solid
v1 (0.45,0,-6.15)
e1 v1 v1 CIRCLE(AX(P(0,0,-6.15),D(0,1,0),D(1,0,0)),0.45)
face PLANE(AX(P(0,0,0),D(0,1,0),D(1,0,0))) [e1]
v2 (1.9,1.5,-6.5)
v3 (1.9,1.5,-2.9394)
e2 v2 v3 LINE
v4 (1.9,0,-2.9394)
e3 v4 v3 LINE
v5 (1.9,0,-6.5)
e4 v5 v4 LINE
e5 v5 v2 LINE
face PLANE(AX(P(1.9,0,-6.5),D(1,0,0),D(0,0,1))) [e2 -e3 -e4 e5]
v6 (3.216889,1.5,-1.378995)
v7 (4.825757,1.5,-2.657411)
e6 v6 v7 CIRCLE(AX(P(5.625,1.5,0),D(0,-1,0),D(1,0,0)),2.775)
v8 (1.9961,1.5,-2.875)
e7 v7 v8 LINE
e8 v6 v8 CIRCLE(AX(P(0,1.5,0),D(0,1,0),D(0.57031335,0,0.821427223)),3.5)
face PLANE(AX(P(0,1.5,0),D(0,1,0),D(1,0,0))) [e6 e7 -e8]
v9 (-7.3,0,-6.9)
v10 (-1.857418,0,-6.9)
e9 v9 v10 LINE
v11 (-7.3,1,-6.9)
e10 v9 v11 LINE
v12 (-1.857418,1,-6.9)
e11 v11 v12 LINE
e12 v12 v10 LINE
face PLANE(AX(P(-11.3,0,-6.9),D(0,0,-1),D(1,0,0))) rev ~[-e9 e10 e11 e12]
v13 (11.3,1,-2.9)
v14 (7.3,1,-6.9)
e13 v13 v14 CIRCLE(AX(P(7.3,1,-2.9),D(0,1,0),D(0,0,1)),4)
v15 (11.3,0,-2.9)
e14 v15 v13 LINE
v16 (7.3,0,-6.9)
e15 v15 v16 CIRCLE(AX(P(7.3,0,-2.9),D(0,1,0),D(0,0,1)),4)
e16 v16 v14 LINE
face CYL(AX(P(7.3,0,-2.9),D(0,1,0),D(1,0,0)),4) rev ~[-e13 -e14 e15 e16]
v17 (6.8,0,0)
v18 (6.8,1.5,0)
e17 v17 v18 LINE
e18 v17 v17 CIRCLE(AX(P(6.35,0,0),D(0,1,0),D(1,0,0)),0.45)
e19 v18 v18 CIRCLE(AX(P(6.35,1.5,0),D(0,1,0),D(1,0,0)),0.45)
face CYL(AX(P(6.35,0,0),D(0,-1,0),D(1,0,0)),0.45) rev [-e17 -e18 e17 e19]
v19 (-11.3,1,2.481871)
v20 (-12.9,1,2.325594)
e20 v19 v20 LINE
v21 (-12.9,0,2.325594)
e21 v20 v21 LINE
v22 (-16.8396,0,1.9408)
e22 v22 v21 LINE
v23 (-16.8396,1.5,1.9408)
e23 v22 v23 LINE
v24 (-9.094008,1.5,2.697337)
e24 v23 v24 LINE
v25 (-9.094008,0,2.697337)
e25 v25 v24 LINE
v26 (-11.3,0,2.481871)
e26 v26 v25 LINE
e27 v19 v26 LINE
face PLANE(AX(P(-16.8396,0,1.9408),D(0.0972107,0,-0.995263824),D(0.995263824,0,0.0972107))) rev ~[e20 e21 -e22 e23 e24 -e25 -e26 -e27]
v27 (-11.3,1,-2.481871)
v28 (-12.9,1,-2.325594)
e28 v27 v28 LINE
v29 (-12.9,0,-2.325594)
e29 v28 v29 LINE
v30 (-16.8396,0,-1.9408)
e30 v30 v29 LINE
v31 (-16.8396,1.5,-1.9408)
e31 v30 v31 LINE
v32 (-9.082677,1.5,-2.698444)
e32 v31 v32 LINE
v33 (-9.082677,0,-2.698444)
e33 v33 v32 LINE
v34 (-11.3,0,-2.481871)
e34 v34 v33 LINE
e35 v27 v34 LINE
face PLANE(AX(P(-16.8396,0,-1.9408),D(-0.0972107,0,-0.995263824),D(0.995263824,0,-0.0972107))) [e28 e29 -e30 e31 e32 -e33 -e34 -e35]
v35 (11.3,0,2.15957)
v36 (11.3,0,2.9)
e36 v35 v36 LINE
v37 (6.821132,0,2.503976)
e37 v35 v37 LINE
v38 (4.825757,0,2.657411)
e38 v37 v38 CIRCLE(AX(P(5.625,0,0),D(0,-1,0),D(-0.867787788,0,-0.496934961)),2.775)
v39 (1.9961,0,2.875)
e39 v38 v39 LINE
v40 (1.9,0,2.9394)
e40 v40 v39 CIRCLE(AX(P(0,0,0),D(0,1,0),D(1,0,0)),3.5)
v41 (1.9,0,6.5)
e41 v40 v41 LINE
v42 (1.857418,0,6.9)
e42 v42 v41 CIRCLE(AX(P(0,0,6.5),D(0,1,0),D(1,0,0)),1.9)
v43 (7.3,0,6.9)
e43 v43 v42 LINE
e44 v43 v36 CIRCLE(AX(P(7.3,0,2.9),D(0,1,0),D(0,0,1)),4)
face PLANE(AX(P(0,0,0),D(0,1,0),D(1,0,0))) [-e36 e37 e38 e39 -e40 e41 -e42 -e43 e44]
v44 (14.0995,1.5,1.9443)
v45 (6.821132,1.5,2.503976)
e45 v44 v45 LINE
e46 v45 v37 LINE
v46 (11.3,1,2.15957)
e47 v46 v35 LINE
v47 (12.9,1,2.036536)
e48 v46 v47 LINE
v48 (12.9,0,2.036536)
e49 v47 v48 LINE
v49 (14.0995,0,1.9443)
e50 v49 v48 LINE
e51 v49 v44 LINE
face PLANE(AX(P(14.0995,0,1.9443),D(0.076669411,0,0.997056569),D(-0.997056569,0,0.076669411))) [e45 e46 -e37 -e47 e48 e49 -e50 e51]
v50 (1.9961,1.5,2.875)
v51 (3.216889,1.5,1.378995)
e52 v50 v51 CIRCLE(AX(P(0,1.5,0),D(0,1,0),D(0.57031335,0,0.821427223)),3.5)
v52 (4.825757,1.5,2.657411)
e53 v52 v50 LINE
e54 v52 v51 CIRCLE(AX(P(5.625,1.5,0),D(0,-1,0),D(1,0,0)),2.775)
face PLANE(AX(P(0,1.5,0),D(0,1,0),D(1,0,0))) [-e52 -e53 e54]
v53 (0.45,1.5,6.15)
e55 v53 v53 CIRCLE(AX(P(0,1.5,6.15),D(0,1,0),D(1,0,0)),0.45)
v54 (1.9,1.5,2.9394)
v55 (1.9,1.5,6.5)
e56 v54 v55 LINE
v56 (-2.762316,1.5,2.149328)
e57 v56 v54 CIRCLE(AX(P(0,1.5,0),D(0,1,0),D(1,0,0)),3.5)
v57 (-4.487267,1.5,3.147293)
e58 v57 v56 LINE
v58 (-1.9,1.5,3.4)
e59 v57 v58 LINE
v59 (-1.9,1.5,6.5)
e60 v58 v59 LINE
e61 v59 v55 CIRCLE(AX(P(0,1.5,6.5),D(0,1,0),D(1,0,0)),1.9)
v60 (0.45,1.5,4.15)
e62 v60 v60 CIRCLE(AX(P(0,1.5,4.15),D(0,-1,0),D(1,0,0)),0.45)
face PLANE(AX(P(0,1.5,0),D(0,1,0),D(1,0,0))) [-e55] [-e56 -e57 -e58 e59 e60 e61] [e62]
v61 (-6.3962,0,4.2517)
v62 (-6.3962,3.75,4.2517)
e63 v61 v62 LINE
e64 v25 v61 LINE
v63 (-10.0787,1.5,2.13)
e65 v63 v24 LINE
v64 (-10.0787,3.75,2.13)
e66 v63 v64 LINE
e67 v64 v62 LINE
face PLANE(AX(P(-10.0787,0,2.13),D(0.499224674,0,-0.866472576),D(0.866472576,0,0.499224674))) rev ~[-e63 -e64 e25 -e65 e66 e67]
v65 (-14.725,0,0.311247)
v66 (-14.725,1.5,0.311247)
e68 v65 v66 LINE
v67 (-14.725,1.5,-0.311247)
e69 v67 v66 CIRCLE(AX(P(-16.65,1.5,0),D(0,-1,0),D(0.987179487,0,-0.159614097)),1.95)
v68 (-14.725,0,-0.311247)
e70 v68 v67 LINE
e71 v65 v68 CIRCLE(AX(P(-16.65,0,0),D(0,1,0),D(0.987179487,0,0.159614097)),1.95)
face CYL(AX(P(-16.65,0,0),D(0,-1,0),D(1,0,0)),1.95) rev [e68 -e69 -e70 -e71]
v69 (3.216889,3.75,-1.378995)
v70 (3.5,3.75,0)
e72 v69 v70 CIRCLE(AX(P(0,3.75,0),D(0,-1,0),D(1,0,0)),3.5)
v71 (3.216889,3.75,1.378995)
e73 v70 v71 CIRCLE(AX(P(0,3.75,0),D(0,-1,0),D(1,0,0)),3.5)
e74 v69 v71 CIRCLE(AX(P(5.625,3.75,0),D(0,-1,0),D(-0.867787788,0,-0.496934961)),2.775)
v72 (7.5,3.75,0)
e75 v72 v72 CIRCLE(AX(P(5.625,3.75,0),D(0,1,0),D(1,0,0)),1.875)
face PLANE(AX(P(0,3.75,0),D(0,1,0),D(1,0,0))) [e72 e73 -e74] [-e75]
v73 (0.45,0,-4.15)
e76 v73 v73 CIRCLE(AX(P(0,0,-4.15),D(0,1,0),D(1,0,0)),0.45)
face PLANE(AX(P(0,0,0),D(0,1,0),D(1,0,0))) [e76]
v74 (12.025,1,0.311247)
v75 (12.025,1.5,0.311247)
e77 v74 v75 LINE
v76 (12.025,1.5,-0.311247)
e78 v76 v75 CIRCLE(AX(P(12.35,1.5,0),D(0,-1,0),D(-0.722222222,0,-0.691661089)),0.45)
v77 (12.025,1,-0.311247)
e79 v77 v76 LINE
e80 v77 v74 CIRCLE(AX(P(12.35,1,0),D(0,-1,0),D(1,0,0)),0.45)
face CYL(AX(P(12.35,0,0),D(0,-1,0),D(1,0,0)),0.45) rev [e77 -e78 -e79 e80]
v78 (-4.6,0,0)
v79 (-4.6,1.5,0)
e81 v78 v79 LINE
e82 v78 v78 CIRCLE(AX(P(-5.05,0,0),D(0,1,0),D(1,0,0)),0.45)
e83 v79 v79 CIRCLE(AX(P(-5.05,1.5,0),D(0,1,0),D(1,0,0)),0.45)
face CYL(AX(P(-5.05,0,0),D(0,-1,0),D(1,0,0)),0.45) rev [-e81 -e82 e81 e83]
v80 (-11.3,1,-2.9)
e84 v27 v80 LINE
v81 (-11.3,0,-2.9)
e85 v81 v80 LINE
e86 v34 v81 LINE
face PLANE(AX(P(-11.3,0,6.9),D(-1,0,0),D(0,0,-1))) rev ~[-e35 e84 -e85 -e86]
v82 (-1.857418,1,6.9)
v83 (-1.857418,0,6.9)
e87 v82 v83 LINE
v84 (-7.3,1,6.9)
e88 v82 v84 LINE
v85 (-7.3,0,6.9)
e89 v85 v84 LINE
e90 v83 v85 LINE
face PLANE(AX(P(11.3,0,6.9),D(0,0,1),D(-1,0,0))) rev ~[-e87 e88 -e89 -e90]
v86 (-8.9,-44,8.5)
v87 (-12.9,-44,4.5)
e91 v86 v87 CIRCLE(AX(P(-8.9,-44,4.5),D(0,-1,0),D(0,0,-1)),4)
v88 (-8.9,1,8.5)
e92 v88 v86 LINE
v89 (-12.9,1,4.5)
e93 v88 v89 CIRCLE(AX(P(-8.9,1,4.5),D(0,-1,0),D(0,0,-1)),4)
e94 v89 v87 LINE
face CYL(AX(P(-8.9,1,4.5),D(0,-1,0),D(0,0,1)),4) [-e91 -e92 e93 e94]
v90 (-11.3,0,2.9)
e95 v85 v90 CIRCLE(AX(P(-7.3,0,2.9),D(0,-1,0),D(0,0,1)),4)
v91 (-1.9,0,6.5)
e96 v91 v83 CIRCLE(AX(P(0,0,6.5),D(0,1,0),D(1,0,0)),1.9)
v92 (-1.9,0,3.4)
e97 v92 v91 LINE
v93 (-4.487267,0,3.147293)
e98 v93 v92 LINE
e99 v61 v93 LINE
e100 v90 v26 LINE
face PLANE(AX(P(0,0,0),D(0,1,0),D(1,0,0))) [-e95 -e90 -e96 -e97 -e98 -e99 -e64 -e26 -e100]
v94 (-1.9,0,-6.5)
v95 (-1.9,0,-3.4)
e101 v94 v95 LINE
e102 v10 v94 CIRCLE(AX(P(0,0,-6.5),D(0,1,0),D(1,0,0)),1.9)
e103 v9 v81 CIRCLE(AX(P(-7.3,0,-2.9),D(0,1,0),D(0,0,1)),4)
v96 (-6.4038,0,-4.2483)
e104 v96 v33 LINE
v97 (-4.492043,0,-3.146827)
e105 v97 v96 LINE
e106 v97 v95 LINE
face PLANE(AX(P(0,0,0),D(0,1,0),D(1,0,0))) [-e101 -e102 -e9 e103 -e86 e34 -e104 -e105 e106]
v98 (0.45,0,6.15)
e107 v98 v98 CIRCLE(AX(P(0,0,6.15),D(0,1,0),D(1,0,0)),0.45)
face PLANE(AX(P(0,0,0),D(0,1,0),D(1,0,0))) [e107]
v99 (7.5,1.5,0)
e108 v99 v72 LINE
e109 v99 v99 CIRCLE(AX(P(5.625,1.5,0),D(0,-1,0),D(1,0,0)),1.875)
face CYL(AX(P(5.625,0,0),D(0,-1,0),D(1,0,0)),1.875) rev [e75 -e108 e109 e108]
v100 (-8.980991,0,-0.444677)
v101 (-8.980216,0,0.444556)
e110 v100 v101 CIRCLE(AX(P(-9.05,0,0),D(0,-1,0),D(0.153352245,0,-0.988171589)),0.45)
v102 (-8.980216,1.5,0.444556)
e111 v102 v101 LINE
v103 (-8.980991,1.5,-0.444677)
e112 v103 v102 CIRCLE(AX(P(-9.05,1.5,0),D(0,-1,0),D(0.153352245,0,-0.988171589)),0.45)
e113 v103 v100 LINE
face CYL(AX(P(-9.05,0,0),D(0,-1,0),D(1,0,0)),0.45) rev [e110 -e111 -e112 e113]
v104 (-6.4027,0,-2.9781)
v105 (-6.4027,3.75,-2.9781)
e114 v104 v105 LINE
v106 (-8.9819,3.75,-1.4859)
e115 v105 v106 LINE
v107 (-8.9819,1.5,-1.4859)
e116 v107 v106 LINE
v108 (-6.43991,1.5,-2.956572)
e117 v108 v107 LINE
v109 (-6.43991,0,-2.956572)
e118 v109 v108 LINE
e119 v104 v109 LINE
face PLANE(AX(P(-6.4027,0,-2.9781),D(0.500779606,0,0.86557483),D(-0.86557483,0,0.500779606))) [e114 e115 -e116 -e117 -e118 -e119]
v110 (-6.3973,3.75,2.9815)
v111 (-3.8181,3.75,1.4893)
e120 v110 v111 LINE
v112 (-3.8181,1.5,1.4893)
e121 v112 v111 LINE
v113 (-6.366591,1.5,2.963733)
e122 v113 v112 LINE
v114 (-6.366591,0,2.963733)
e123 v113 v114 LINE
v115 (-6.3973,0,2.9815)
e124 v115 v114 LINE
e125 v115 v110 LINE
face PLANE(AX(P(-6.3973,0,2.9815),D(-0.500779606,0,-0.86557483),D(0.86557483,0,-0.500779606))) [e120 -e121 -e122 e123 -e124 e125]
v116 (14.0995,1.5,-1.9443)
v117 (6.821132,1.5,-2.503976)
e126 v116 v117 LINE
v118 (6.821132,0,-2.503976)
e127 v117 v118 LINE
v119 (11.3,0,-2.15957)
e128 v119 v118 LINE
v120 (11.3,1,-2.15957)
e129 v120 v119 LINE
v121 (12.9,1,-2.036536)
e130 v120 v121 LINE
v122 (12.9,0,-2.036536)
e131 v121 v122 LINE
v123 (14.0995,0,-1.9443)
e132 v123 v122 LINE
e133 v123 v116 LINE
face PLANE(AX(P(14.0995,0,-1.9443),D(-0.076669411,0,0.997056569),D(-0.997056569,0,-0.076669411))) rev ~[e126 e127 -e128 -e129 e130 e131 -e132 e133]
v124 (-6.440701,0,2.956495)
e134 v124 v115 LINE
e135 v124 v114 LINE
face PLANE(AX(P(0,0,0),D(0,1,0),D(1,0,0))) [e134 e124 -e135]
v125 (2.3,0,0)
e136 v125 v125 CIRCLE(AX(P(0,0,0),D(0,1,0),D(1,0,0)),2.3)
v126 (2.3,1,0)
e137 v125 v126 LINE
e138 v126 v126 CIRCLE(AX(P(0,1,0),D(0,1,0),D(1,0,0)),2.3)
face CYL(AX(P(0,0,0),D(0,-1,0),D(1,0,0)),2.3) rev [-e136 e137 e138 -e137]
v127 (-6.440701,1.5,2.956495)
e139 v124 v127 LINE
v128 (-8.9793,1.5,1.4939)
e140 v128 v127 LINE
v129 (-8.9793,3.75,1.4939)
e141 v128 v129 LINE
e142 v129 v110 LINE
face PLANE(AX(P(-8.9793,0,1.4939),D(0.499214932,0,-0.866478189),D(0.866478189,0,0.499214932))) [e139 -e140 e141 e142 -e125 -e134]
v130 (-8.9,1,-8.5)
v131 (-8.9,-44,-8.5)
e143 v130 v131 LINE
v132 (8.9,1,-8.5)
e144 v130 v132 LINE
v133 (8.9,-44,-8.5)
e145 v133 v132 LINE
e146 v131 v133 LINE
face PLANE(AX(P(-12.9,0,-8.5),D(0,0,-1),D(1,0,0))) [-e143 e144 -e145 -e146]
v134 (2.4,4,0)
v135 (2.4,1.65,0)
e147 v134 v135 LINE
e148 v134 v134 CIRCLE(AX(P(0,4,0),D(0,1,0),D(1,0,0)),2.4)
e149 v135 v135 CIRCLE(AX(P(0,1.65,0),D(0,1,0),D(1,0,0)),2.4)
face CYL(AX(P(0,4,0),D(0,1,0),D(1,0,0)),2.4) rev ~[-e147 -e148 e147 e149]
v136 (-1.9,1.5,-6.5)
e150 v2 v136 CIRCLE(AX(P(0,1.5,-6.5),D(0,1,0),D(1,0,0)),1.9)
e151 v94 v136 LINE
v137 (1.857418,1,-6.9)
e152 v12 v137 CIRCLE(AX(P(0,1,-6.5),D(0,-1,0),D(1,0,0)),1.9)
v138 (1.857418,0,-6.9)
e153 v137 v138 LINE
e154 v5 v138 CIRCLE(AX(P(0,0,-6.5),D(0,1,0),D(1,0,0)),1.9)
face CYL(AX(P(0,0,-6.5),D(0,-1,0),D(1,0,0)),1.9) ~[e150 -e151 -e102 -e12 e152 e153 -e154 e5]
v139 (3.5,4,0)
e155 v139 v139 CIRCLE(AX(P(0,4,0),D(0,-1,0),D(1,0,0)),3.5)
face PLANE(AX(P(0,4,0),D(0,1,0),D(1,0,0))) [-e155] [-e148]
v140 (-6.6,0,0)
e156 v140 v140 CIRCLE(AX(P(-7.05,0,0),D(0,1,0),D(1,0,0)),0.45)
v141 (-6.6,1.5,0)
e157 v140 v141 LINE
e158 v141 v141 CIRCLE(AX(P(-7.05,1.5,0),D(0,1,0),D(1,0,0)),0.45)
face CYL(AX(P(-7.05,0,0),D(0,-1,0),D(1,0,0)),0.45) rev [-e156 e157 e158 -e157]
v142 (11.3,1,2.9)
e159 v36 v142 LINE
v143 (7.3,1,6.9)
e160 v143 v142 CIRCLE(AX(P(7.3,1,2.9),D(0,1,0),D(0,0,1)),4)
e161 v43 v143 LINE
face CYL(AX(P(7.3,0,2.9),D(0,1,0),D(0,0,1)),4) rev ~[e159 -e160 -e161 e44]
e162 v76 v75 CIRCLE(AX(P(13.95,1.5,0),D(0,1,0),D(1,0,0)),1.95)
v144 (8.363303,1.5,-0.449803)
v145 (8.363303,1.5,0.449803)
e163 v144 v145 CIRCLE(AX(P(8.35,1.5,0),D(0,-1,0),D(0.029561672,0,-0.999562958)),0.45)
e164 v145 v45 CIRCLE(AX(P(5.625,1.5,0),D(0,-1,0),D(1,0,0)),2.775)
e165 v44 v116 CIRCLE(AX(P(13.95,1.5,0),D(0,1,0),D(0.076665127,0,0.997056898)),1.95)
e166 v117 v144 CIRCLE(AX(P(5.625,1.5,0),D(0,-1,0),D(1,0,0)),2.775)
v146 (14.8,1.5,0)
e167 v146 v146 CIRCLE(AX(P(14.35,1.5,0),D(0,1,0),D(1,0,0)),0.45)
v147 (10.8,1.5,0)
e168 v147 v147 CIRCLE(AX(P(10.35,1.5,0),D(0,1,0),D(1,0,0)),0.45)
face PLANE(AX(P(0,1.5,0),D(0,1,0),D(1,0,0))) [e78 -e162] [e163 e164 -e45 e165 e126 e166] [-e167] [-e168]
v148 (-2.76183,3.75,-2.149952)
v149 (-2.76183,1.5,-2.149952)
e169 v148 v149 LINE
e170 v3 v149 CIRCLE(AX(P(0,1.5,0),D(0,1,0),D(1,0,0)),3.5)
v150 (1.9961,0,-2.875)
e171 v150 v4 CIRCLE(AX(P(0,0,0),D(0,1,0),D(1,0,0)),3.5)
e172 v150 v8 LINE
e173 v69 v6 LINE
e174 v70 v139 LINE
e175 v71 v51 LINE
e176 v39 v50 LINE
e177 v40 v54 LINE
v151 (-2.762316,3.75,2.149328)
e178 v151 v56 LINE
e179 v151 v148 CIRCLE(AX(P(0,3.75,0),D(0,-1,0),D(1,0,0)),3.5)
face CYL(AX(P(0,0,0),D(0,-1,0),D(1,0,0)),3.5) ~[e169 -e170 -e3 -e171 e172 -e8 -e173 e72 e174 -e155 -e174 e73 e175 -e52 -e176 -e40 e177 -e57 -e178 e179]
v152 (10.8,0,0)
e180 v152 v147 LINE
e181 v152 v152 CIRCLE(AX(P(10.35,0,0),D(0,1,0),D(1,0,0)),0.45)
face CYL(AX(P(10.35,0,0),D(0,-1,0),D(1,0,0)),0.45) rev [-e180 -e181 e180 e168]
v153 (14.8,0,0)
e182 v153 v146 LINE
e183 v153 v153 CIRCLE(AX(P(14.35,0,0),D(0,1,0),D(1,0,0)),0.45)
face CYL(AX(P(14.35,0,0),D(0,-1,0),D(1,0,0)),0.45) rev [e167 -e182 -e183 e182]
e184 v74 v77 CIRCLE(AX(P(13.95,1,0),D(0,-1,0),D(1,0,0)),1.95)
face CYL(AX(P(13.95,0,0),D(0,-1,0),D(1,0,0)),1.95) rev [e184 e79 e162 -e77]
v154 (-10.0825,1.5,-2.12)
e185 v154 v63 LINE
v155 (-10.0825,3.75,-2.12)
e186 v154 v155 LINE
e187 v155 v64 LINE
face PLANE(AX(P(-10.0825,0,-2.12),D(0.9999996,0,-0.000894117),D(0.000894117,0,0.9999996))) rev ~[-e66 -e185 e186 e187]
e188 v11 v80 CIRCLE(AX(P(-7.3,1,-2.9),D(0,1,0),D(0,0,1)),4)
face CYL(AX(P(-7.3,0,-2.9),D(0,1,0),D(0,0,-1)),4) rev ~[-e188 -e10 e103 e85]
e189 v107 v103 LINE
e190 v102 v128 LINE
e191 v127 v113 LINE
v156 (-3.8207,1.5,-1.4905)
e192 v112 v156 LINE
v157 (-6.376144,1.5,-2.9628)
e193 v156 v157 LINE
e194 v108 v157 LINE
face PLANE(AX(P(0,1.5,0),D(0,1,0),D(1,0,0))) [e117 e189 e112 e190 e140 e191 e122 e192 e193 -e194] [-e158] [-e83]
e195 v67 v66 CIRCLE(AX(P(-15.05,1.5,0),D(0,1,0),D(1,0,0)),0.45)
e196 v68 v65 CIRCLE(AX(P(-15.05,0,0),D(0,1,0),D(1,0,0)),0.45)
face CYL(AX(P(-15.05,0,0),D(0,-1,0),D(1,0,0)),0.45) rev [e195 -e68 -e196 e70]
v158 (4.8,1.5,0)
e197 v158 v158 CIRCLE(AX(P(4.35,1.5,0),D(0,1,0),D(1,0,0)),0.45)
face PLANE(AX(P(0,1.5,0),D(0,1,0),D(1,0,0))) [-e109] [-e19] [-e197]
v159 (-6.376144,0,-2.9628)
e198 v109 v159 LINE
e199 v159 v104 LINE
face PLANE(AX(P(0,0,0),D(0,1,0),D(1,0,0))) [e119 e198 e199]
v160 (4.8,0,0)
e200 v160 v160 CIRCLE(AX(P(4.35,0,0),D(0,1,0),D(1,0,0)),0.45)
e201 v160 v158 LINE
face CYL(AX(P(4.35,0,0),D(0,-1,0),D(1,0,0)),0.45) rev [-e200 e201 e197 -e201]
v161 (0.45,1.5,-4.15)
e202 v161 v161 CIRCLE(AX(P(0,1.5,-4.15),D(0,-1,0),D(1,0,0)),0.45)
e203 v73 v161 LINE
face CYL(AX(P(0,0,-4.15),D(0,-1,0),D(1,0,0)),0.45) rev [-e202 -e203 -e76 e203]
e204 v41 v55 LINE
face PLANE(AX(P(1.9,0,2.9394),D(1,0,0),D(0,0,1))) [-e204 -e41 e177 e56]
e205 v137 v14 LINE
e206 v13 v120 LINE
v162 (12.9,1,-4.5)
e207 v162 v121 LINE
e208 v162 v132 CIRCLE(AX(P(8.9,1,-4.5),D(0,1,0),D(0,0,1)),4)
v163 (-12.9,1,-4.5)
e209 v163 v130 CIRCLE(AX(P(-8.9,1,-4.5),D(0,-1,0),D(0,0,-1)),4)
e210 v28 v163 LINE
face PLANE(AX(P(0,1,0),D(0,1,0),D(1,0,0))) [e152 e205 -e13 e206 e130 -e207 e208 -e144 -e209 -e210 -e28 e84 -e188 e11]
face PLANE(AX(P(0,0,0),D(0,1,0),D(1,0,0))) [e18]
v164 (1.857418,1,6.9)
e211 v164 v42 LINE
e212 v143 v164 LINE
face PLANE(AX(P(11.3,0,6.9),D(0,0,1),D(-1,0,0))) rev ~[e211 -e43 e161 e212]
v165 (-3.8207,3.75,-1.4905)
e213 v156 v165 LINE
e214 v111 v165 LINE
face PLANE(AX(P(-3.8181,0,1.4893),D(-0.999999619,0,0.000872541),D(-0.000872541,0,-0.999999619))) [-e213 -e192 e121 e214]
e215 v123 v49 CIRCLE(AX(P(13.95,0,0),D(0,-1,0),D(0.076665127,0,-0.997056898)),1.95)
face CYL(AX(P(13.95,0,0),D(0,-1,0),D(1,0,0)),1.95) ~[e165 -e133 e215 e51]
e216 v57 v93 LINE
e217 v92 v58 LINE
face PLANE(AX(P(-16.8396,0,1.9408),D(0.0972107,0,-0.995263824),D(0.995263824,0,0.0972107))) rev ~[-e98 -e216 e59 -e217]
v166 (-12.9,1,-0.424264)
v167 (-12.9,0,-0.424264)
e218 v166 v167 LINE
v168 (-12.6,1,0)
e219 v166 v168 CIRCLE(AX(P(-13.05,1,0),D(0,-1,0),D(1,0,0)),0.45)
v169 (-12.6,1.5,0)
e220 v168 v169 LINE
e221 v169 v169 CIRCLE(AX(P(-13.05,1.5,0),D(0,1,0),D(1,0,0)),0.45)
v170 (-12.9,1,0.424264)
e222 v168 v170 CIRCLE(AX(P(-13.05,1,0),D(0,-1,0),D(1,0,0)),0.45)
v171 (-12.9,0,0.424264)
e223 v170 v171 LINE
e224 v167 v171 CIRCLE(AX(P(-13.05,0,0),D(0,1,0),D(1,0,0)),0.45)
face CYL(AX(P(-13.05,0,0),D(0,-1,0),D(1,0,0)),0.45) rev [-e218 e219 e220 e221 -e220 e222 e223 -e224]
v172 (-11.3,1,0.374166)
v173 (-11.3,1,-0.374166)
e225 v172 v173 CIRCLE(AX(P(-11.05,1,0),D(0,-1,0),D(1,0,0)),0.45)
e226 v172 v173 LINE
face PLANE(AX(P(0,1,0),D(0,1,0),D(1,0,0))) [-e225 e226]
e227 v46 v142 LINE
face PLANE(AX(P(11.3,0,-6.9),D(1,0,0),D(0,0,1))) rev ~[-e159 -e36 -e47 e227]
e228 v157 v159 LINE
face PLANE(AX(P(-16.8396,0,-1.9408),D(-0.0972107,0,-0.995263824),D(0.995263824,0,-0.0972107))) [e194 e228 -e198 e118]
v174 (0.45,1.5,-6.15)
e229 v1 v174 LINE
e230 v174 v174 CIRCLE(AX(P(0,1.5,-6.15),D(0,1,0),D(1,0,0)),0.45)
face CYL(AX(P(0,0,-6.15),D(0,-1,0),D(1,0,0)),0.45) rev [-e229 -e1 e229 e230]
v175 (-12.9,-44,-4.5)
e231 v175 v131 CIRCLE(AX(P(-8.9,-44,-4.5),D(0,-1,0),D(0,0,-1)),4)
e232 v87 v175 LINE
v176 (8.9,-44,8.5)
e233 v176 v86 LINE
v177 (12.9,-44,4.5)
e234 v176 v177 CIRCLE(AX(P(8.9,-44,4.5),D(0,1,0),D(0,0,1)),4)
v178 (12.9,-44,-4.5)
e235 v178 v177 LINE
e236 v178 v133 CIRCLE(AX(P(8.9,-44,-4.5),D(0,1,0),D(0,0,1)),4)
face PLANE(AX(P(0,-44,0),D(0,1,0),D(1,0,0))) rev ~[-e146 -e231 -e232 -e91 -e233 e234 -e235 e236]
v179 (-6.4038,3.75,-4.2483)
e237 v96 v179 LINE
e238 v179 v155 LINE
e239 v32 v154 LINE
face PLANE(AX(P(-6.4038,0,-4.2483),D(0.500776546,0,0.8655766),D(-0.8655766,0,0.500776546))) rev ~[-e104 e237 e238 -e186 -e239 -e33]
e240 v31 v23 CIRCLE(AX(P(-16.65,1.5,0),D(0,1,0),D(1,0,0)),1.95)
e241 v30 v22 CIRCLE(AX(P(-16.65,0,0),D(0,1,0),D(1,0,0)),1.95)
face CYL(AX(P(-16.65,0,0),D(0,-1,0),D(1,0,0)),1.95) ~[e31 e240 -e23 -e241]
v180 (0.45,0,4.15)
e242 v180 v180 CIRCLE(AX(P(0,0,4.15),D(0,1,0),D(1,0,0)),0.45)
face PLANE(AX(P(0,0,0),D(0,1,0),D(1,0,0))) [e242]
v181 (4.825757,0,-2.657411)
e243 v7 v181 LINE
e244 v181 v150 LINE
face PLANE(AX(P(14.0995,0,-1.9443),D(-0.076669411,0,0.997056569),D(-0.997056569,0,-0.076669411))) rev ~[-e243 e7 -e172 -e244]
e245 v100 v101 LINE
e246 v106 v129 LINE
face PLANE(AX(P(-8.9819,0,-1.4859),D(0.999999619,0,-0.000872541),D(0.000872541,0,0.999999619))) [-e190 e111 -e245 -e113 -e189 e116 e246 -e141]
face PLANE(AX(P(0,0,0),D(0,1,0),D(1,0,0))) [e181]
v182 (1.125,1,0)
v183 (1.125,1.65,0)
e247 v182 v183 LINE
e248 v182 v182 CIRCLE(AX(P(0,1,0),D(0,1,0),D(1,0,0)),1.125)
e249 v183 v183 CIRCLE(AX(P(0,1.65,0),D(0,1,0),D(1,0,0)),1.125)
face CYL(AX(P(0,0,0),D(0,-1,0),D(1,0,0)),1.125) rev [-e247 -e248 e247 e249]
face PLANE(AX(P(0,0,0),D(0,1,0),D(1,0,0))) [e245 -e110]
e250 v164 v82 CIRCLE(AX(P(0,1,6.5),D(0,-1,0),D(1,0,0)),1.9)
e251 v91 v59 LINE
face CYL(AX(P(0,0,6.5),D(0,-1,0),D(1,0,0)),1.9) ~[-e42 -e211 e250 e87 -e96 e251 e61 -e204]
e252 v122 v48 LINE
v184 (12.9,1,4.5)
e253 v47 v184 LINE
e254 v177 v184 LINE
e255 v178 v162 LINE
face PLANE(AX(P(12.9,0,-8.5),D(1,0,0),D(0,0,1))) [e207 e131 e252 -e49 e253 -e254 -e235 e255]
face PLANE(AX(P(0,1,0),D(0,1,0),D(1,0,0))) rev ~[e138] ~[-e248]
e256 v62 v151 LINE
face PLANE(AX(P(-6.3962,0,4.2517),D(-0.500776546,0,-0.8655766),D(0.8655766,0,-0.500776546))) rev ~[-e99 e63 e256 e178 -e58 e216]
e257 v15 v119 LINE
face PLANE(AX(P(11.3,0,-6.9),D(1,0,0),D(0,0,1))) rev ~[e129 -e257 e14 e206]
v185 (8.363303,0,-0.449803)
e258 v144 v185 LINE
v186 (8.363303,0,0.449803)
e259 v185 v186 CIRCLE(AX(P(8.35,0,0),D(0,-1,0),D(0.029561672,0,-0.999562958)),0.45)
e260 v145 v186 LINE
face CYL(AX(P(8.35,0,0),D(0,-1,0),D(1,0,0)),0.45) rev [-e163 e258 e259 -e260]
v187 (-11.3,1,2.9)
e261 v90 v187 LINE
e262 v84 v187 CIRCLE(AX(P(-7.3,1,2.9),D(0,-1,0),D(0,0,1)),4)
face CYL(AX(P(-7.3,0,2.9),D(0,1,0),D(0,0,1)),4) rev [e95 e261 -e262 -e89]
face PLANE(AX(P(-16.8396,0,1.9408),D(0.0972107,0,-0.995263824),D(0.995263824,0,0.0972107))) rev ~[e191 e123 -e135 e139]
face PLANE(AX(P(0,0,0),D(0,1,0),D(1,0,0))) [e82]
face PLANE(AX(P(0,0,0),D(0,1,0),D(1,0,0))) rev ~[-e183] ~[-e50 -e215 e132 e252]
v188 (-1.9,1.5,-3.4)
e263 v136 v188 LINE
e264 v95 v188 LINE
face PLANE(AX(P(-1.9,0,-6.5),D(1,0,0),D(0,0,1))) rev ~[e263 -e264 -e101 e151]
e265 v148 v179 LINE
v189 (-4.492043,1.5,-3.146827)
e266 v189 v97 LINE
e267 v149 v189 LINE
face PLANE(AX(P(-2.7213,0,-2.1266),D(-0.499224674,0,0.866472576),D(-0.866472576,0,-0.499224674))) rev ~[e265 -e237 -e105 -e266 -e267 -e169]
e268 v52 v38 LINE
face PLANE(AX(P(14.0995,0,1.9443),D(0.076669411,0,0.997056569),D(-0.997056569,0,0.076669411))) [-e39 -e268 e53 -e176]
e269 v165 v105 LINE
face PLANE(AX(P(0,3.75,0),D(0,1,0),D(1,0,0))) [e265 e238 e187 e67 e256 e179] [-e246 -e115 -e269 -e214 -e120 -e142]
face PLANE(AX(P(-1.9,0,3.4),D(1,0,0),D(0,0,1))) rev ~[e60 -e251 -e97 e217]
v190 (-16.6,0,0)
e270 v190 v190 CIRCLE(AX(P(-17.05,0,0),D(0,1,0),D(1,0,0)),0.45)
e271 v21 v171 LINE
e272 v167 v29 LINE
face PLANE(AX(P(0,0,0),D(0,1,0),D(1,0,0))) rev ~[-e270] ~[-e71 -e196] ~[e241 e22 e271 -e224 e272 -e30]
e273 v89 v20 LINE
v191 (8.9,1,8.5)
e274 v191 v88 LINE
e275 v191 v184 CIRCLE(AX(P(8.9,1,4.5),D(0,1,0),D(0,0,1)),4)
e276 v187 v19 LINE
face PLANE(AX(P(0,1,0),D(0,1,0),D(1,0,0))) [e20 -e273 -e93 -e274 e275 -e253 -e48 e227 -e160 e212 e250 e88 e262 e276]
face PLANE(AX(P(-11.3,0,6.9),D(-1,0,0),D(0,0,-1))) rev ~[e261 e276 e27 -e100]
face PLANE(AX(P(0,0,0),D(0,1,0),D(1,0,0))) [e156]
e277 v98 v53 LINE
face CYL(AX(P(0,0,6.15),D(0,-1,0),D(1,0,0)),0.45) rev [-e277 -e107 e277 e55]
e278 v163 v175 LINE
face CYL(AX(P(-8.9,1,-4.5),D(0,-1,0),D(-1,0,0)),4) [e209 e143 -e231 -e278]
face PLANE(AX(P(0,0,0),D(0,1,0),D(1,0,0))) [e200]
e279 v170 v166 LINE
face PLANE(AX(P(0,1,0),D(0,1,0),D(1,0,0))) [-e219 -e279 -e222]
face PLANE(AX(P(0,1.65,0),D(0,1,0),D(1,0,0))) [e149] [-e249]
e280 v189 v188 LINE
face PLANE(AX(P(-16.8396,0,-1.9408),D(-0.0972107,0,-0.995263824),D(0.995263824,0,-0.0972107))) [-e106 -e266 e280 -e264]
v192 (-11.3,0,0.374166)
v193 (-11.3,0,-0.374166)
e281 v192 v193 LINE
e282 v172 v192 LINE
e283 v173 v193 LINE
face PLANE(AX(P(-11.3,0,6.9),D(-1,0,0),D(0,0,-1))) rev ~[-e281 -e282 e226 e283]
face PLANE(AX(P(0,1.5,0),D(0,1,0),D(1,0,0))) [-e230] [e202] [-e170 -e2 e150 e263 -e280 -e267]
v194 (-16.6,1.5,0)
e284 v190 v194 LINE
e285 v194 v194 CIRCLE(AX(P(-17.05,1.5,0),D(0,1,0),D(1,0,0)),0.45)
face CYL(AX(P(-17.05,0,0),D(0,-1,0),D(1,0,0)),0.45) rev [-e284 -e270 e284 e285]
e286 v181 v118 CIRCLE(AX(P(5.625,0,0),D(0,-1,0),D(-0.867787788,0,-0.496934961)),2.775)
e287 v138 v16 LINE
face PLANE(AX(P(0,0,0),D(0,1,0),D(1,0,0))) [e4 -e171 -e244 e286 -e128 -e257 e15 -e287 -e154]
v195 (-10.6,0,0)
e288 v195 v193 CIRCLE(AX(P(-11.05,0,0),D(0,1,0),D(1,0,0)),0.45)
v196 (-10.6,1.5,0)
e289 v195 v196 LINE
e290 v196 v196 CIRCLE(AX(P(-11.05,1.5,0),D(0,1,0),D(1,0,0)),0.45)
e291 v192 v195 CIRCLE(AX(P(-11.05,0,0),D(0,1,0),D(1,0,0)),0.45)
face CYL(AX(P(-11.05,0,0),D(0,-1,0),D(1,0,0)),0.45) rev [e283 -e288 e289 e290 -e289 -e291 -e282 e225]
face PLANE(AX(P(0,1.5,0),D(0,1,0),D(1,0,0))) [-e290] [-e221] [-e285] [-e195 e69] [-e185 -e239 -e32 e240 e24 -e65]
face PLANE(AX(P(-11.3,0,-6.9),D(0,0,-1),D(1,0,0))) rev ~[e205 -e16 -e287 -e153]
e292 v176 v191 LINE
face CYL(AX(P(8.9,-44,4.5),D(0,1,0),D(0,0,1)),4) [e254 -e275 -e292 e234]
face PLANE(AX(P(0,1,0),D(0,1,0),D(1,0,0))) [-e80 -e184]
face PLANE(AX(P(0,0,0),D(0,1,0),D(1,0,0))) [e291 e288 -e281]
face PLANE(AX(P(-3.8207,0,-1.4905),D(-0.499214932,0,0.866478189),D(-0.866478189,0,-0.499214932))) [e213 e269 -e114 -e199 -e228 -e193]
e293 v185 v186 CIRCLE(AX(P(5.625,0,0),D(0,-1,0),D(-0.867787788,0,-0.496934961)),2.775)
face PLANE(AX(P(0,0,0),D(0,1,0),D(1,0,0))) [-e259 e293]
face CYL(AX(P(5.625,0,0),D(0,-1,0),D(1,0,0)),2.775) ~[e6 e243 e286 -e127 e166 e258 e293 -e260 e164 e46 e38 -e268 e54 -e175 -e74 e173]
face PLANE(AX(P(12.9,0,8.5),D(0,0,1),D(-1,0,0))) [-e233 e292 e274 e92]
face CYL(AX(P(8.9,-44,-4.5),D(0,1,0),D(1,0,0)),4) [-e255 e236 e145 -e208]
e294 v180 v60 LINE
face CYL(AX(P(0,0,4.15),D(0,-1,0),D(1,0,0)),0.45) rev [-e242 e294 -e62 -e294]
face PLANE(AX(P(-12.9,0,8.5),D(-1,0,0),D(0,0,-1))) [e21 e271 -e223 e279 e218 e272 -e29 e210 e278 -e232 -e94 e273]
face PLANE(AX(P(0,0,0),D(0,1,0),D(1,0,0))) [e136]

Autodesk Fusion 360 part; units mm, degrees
sketch "base Sketch" plane through (0, 0, 0) normal (0, 1, 0) x (1, 0, 0)
  line L0 (12.9, -8.5) -> (-12.9, -8.5)
  line L1 (-12.9, -8.5) -> (-12.9, 8.5)
  line L2 (-12.9, 8.5) -> (12.9, 8.5)
  line L3 (12.9, 8.5) -> (12.9, -8.5)
  line L4 (12.9, -8.5) -> (-12.9, 8.5) construction
  line L5 (-12.9, -8.5) -> (12.9, 8.5) construction
  circle A0 centre (5.625, 0) radius 2.775
  circle A1 centre (5.625, 0) radius 1.875
  circle A2 centre (-6.4, -0.0017) radius 2.0246 construction
  line L6 (-6.3962, -4.2517) -> (-2.7175, -2.1234)
  line L7 (-2.7175, -2.1234) -> (-2.7213, 2.1266)
  line L8 (-2.7213, 2.1266) -> (-6.4038, 4.2483)
  line L9 (-6.4038, 4.2483) -> (-10.0825, 2.12)
  line L10 (-10.0825, 2.12) -> (-10.0787, -2.13)
  line L11 (-10.0787, -2.13) -> (-6.3962, -4.2517)
  line L12 (-6.4027, 2.9781) -> (-8.9819, 1.4859)
  line L13 (-8.9819, 1.4859) -> (-8.9793, -1.4939)
  line L14 (-8.9793, -1.4939) -> (-6.3973, -2.9815)
  line L15 (-6.3973, -2.9815) -> (-3.8181, -1.4893)
  line L16 (-3.8181, -1.4893) -> (-3.8207, 1.4905)
  line L17 (-3.8207, 1.4905) -> (-6.4027, 2.9781)
  line L18 (-11.3, -6.9) -> (-11.3, 6.9)
  line L19 (-11.3, 6.9) -> (11.3, 6.9)
  line L20 (11.3, 6.9) -> (11.3, -6.9)
  line L21 (11.3, -6.9) -> (-11.3, -6.9)
  point P0 (-6.4, -0.0017)
  dimension "d1" = 25.8
  dimension "d2" = 17
  dimension "d3" = 5.55
  dimension "d4" = 7.275
  dimension "d5" = -0.9
  dimension "d6" = 6.5
  dimension "d7" = 4.25
  dimension "d8" = -1.1
  dimension "d15" = 1.6
extrude "Extrude1" add sketch "base Sketch" against normal blind 44 contours L0 L1 L2 L3 | A0 | A1 | L6 L7 L8 L9 L10 L11 | L12 L13 L14 L15 L16 L17 | L18 L19 L20 L21
extrude "Extrude2" add sketch "base Sketch" along normal blind 3.75 contours A0 | L6 L7 L8 L9 L10 L11
extrude "Extrude3" add sketch "base Sketch" along normal blind 1 contours L0 L1 L2 L3
fillet "Fillet1" radius 4 8 edges at (12.9, -21.5, 8.5) (-12.9, -21.5, 8.5) (-12.9, -21.5, -8.5) (12.9, -21.5, -8.5) (11.3, 0.5, 6.9) (-11.3, 0.5, 6.9) (-11.3, 0.5, -6.9) (11.3, 0.5, -6.9)
equation "d4 = 4.5 mm + d3 / 2"
equation "d7 = ( 8.5 / 2 ) * 1 mm"

Autodesk Fusion 360 part; units mm, degrees
sketch "Sketch1" plane through (0, 0, 0) normal (0, 1, 0) x (1, 0, 0)
  circle A0 centre (0, 0) radius 1.125
  circle A1 centre (0, 0) radius 3.5
  line L0 (0, 0) -> (13.95, 0) construction
  line L1 (0, 0) -> (-16.65, 0) construction
  line L2 (0, 0) -> (0, 6.5) construction
  line L3 (0, 0) -> (0, -6.5) construction
  circle A2 centre (0, 6.5) radius 1.9
  circle A3 centre (0, -6.5) radius 1.9
  circle A4 centre (13.95, 0) radius 1.95
  circle A5 centre (-16.65, 0) radius 1.95
  line L4 (14.0995, 1.9443) -> (1.9961, 2.875)
  line L5 (14.0995, -1.9443) -> (1.9961, -2.875)
  line L6 (-16.8396, 1.9408) -> (-1.9, 3.4)
  line L7 (1.9, 6.5) -> (1.9, 2.9394)
  line L8 (-1.9, 6.5) -> (-1.9, 3.4)
  line L9 (-1.9, -3.4) -> (-1.9, -6.5)
  line L10 (1.9, -2.9394) -> (1.9, -6.5)
  circle A6 centre (0, 0) radius 2.4
  circle A7 centre (8.35, 0) radius 0.45
  circle A8 centre (10.35, 0) radius 0.45
  circle A9 centre (12.35, 0) radius 0.45
  circle A10 centre (0, -6.15) radius 0.45
  circle A11 centre (0, -4.15) radius 0.45
  circle A12 centre (14.35, 0) radius 0.45
  circle A13 centre (6.35, 0) radius 0.45
  circle A14 centre (4.35, 0) radius 0.45
  line L11 (-16.8396, -1.9408) -> (-1.9, -3.4)
  circle A15 centre (0, 6.15) radius 0.45
  circle A16 centre (0, 4.15) radius 0.45
  circle A17 centre (-17.05, 0) radius 0.45
  circle A18 centre (-15.05, 0) radius 0.45
  circle A19 centre (-13.05, 0) radius 0.45
  circle A20 centre (-11.05, 0) radius 0.45
  circle A21 centre (-9.05, 0) radius 0.45
  circle A22 centre (-7.05, 0) radius 0.45
  circle A23 centre (-5.05, 0) radius 0.45
  circle A24 centre (0, 0) radius 2.3
  line L12 (1.9961, -2.875) -> (15.9, -2.875) construction
  line L13 (15.9, -2.875) -> (15.9, 0) construction
  line L14 (-1.9, -3.4) -> (-18.6, -3.4) construction
  line L15 (-18.6, -3.4) -> (-18.6, 0) construction
  line L16 (3.0895, -8.4) -> (-2.3757, -8.4) construction
  line L17 (0, -6.6) -> (0, -8.4) construction
  line L18 (-1.67, 8.4) -> (1.1298, 8.4) construction
  line L19 (0, 8.4) -> (0, 6.6) construction
  dimension "d1" = 3.8
  dimension "d2" = 3.9
  dimension "d3" = 3.8
  dimension "d4" = 3.9
  dimension "d6" = 16.65
  dimension "d9" = 7
  dimension "d10" = 2.25
  dimension "d11" = 2.875
  dimension "d12" = 2.875
  dimension "d22" = 0.9
  dimension "d23" = 0.9
  dimension "d24" = 0.9
  dimension "d25" = 0.9
  dimension "d29" = 0.35
  dimension "d30" = 0.9
  dimension "d33" = 0.9
  dimension "d34" = 2
  dimension "d35" = 2
  dimension "d36" = 2
  dimension "d41" = 0.4
  dimension "d42" = 2
  dimension "d43" = 2
  dimension "d44" = 0.9
  dimension "d45" = 0.9
  dimension "d48" = 3.4
  dimension "d49" = 3.4
  dimension "d51" = 3.1
  dimension "d52" = 3.1
  dimension "d55" = 0.9
  dimension "d56" = 0.9
  dimension "d57" = 0.9
  dimension "d58" = 0.9
  dimension "d59" = 0.9
  dimension "d60" = 0.9
  dimension "d61" = 0.9
  dimension "d62" = 0.9
  dimension "d63" = 0.9
  dimension "d64" = 0.4
  dimension "d65" = 2
  dimension "d66" = 2
  dimension "d67" = 2
  dimension "d68" = 2
  dimension "d69" = 2
  dimension "d70" = 2
  dimension "d72" = 4.6
  dimension "d73" = 1.1
  dimension "d76" = 4.8
  dimension "d81" = 13.9039
  dimension "d83" = 14
  dimension "d84" = 16.7
  dimension "d85" = 2
  dimension "d86" = 2
  dimension "d87" = 1.8
  dimension "d88" = 0.35
  dimension "d89" = 1.8
  dimension "d90" = 5
  dimension "d91" = 5.525
extrude "Extrude2" add sketch "Sketch1" along normal blind 4 contours A1 | A6 | A24
extrude "Extrude3" add sketch "Sketch1" along normal blind 1.5 contours A1 A4 L4 L5 A9 | A1 A2 A3 A5 L6 L7 L8 L9 L10 L11 A18 | A4 A9 | A2 | A4 A9 | A3 | A5 A18 | A5 A18 picked at (13.1485, 0.7143) picked at (11.9689, -0.0104) picked at (-15.8899, -0.7443) picked at (-14.6688, -0.0538)
extrude "Extrude4" cut sketch "Sketch1" along normal blind 1 contours A24
extrude "Extrude5" cut sketch "Sketch1" against normal blind 2.35 from surface at 4 contours A6 | A24
equation "d3 = d1"
equation "d6 = 18.6 mm - d4 / 2"
equation "d11 = ( 5.75 / 2 ) * 1 mm"
equation "d12 = d11"
equation "d22 = smallHoles"
equation "d23 = smallHoles"
equation "d24 = smallHoles"
equation "d25 = smallHoles"
equation "d29 = 1.8 mm - d3 / 2 + d25 / 2"
equation "d30 = smallHoles"
equation "d33 = smallHoles"
equation "d34 = 2.9 mm - d33"
equation "d35 = d34"
equation "d36 = d34"
equation "d41 = d2 / 2 - ( 1.1 mm + d33 / 2 )"
equation "d42 = d34"
equation "d43 = d34"
equation "d44 = smallHoles"
equation "d45 = smallHoles"
equation "d51 = 5 mm - d3 / 2"
equation "d52 = 5 mm - d1 / 2"
equation "d55 = smallHoles"
equation "d56 = smallHoles"
equation "d57 = smallHoles"
equation "d58 = smallHoles"
equation "d59 = smallHoles"
equation "d60 = smallHoles"
equation "d61 = smallHoles"
equation "d62 = smallHoles"
equation "d63 = smallHoles"
equation "d64 = d4 / 2 - ( 1.1 mm + d57 / 2 )"
equation "d65 = 2.9 mm - d57"
equation "d66 = d65"
equation "d67 = d65"
equation "d68 = d65"
equation "d69 = d65"
equation "d70 = d65"
equation "smallHoles = 0.9 mm"
equation "d85 = 2.9 mm - smallHoles"
equation "d86 = 2.9 mm - smallHoles"
equation "d88 = 1.8 mm - d1 / 2 + d56 / 2"
